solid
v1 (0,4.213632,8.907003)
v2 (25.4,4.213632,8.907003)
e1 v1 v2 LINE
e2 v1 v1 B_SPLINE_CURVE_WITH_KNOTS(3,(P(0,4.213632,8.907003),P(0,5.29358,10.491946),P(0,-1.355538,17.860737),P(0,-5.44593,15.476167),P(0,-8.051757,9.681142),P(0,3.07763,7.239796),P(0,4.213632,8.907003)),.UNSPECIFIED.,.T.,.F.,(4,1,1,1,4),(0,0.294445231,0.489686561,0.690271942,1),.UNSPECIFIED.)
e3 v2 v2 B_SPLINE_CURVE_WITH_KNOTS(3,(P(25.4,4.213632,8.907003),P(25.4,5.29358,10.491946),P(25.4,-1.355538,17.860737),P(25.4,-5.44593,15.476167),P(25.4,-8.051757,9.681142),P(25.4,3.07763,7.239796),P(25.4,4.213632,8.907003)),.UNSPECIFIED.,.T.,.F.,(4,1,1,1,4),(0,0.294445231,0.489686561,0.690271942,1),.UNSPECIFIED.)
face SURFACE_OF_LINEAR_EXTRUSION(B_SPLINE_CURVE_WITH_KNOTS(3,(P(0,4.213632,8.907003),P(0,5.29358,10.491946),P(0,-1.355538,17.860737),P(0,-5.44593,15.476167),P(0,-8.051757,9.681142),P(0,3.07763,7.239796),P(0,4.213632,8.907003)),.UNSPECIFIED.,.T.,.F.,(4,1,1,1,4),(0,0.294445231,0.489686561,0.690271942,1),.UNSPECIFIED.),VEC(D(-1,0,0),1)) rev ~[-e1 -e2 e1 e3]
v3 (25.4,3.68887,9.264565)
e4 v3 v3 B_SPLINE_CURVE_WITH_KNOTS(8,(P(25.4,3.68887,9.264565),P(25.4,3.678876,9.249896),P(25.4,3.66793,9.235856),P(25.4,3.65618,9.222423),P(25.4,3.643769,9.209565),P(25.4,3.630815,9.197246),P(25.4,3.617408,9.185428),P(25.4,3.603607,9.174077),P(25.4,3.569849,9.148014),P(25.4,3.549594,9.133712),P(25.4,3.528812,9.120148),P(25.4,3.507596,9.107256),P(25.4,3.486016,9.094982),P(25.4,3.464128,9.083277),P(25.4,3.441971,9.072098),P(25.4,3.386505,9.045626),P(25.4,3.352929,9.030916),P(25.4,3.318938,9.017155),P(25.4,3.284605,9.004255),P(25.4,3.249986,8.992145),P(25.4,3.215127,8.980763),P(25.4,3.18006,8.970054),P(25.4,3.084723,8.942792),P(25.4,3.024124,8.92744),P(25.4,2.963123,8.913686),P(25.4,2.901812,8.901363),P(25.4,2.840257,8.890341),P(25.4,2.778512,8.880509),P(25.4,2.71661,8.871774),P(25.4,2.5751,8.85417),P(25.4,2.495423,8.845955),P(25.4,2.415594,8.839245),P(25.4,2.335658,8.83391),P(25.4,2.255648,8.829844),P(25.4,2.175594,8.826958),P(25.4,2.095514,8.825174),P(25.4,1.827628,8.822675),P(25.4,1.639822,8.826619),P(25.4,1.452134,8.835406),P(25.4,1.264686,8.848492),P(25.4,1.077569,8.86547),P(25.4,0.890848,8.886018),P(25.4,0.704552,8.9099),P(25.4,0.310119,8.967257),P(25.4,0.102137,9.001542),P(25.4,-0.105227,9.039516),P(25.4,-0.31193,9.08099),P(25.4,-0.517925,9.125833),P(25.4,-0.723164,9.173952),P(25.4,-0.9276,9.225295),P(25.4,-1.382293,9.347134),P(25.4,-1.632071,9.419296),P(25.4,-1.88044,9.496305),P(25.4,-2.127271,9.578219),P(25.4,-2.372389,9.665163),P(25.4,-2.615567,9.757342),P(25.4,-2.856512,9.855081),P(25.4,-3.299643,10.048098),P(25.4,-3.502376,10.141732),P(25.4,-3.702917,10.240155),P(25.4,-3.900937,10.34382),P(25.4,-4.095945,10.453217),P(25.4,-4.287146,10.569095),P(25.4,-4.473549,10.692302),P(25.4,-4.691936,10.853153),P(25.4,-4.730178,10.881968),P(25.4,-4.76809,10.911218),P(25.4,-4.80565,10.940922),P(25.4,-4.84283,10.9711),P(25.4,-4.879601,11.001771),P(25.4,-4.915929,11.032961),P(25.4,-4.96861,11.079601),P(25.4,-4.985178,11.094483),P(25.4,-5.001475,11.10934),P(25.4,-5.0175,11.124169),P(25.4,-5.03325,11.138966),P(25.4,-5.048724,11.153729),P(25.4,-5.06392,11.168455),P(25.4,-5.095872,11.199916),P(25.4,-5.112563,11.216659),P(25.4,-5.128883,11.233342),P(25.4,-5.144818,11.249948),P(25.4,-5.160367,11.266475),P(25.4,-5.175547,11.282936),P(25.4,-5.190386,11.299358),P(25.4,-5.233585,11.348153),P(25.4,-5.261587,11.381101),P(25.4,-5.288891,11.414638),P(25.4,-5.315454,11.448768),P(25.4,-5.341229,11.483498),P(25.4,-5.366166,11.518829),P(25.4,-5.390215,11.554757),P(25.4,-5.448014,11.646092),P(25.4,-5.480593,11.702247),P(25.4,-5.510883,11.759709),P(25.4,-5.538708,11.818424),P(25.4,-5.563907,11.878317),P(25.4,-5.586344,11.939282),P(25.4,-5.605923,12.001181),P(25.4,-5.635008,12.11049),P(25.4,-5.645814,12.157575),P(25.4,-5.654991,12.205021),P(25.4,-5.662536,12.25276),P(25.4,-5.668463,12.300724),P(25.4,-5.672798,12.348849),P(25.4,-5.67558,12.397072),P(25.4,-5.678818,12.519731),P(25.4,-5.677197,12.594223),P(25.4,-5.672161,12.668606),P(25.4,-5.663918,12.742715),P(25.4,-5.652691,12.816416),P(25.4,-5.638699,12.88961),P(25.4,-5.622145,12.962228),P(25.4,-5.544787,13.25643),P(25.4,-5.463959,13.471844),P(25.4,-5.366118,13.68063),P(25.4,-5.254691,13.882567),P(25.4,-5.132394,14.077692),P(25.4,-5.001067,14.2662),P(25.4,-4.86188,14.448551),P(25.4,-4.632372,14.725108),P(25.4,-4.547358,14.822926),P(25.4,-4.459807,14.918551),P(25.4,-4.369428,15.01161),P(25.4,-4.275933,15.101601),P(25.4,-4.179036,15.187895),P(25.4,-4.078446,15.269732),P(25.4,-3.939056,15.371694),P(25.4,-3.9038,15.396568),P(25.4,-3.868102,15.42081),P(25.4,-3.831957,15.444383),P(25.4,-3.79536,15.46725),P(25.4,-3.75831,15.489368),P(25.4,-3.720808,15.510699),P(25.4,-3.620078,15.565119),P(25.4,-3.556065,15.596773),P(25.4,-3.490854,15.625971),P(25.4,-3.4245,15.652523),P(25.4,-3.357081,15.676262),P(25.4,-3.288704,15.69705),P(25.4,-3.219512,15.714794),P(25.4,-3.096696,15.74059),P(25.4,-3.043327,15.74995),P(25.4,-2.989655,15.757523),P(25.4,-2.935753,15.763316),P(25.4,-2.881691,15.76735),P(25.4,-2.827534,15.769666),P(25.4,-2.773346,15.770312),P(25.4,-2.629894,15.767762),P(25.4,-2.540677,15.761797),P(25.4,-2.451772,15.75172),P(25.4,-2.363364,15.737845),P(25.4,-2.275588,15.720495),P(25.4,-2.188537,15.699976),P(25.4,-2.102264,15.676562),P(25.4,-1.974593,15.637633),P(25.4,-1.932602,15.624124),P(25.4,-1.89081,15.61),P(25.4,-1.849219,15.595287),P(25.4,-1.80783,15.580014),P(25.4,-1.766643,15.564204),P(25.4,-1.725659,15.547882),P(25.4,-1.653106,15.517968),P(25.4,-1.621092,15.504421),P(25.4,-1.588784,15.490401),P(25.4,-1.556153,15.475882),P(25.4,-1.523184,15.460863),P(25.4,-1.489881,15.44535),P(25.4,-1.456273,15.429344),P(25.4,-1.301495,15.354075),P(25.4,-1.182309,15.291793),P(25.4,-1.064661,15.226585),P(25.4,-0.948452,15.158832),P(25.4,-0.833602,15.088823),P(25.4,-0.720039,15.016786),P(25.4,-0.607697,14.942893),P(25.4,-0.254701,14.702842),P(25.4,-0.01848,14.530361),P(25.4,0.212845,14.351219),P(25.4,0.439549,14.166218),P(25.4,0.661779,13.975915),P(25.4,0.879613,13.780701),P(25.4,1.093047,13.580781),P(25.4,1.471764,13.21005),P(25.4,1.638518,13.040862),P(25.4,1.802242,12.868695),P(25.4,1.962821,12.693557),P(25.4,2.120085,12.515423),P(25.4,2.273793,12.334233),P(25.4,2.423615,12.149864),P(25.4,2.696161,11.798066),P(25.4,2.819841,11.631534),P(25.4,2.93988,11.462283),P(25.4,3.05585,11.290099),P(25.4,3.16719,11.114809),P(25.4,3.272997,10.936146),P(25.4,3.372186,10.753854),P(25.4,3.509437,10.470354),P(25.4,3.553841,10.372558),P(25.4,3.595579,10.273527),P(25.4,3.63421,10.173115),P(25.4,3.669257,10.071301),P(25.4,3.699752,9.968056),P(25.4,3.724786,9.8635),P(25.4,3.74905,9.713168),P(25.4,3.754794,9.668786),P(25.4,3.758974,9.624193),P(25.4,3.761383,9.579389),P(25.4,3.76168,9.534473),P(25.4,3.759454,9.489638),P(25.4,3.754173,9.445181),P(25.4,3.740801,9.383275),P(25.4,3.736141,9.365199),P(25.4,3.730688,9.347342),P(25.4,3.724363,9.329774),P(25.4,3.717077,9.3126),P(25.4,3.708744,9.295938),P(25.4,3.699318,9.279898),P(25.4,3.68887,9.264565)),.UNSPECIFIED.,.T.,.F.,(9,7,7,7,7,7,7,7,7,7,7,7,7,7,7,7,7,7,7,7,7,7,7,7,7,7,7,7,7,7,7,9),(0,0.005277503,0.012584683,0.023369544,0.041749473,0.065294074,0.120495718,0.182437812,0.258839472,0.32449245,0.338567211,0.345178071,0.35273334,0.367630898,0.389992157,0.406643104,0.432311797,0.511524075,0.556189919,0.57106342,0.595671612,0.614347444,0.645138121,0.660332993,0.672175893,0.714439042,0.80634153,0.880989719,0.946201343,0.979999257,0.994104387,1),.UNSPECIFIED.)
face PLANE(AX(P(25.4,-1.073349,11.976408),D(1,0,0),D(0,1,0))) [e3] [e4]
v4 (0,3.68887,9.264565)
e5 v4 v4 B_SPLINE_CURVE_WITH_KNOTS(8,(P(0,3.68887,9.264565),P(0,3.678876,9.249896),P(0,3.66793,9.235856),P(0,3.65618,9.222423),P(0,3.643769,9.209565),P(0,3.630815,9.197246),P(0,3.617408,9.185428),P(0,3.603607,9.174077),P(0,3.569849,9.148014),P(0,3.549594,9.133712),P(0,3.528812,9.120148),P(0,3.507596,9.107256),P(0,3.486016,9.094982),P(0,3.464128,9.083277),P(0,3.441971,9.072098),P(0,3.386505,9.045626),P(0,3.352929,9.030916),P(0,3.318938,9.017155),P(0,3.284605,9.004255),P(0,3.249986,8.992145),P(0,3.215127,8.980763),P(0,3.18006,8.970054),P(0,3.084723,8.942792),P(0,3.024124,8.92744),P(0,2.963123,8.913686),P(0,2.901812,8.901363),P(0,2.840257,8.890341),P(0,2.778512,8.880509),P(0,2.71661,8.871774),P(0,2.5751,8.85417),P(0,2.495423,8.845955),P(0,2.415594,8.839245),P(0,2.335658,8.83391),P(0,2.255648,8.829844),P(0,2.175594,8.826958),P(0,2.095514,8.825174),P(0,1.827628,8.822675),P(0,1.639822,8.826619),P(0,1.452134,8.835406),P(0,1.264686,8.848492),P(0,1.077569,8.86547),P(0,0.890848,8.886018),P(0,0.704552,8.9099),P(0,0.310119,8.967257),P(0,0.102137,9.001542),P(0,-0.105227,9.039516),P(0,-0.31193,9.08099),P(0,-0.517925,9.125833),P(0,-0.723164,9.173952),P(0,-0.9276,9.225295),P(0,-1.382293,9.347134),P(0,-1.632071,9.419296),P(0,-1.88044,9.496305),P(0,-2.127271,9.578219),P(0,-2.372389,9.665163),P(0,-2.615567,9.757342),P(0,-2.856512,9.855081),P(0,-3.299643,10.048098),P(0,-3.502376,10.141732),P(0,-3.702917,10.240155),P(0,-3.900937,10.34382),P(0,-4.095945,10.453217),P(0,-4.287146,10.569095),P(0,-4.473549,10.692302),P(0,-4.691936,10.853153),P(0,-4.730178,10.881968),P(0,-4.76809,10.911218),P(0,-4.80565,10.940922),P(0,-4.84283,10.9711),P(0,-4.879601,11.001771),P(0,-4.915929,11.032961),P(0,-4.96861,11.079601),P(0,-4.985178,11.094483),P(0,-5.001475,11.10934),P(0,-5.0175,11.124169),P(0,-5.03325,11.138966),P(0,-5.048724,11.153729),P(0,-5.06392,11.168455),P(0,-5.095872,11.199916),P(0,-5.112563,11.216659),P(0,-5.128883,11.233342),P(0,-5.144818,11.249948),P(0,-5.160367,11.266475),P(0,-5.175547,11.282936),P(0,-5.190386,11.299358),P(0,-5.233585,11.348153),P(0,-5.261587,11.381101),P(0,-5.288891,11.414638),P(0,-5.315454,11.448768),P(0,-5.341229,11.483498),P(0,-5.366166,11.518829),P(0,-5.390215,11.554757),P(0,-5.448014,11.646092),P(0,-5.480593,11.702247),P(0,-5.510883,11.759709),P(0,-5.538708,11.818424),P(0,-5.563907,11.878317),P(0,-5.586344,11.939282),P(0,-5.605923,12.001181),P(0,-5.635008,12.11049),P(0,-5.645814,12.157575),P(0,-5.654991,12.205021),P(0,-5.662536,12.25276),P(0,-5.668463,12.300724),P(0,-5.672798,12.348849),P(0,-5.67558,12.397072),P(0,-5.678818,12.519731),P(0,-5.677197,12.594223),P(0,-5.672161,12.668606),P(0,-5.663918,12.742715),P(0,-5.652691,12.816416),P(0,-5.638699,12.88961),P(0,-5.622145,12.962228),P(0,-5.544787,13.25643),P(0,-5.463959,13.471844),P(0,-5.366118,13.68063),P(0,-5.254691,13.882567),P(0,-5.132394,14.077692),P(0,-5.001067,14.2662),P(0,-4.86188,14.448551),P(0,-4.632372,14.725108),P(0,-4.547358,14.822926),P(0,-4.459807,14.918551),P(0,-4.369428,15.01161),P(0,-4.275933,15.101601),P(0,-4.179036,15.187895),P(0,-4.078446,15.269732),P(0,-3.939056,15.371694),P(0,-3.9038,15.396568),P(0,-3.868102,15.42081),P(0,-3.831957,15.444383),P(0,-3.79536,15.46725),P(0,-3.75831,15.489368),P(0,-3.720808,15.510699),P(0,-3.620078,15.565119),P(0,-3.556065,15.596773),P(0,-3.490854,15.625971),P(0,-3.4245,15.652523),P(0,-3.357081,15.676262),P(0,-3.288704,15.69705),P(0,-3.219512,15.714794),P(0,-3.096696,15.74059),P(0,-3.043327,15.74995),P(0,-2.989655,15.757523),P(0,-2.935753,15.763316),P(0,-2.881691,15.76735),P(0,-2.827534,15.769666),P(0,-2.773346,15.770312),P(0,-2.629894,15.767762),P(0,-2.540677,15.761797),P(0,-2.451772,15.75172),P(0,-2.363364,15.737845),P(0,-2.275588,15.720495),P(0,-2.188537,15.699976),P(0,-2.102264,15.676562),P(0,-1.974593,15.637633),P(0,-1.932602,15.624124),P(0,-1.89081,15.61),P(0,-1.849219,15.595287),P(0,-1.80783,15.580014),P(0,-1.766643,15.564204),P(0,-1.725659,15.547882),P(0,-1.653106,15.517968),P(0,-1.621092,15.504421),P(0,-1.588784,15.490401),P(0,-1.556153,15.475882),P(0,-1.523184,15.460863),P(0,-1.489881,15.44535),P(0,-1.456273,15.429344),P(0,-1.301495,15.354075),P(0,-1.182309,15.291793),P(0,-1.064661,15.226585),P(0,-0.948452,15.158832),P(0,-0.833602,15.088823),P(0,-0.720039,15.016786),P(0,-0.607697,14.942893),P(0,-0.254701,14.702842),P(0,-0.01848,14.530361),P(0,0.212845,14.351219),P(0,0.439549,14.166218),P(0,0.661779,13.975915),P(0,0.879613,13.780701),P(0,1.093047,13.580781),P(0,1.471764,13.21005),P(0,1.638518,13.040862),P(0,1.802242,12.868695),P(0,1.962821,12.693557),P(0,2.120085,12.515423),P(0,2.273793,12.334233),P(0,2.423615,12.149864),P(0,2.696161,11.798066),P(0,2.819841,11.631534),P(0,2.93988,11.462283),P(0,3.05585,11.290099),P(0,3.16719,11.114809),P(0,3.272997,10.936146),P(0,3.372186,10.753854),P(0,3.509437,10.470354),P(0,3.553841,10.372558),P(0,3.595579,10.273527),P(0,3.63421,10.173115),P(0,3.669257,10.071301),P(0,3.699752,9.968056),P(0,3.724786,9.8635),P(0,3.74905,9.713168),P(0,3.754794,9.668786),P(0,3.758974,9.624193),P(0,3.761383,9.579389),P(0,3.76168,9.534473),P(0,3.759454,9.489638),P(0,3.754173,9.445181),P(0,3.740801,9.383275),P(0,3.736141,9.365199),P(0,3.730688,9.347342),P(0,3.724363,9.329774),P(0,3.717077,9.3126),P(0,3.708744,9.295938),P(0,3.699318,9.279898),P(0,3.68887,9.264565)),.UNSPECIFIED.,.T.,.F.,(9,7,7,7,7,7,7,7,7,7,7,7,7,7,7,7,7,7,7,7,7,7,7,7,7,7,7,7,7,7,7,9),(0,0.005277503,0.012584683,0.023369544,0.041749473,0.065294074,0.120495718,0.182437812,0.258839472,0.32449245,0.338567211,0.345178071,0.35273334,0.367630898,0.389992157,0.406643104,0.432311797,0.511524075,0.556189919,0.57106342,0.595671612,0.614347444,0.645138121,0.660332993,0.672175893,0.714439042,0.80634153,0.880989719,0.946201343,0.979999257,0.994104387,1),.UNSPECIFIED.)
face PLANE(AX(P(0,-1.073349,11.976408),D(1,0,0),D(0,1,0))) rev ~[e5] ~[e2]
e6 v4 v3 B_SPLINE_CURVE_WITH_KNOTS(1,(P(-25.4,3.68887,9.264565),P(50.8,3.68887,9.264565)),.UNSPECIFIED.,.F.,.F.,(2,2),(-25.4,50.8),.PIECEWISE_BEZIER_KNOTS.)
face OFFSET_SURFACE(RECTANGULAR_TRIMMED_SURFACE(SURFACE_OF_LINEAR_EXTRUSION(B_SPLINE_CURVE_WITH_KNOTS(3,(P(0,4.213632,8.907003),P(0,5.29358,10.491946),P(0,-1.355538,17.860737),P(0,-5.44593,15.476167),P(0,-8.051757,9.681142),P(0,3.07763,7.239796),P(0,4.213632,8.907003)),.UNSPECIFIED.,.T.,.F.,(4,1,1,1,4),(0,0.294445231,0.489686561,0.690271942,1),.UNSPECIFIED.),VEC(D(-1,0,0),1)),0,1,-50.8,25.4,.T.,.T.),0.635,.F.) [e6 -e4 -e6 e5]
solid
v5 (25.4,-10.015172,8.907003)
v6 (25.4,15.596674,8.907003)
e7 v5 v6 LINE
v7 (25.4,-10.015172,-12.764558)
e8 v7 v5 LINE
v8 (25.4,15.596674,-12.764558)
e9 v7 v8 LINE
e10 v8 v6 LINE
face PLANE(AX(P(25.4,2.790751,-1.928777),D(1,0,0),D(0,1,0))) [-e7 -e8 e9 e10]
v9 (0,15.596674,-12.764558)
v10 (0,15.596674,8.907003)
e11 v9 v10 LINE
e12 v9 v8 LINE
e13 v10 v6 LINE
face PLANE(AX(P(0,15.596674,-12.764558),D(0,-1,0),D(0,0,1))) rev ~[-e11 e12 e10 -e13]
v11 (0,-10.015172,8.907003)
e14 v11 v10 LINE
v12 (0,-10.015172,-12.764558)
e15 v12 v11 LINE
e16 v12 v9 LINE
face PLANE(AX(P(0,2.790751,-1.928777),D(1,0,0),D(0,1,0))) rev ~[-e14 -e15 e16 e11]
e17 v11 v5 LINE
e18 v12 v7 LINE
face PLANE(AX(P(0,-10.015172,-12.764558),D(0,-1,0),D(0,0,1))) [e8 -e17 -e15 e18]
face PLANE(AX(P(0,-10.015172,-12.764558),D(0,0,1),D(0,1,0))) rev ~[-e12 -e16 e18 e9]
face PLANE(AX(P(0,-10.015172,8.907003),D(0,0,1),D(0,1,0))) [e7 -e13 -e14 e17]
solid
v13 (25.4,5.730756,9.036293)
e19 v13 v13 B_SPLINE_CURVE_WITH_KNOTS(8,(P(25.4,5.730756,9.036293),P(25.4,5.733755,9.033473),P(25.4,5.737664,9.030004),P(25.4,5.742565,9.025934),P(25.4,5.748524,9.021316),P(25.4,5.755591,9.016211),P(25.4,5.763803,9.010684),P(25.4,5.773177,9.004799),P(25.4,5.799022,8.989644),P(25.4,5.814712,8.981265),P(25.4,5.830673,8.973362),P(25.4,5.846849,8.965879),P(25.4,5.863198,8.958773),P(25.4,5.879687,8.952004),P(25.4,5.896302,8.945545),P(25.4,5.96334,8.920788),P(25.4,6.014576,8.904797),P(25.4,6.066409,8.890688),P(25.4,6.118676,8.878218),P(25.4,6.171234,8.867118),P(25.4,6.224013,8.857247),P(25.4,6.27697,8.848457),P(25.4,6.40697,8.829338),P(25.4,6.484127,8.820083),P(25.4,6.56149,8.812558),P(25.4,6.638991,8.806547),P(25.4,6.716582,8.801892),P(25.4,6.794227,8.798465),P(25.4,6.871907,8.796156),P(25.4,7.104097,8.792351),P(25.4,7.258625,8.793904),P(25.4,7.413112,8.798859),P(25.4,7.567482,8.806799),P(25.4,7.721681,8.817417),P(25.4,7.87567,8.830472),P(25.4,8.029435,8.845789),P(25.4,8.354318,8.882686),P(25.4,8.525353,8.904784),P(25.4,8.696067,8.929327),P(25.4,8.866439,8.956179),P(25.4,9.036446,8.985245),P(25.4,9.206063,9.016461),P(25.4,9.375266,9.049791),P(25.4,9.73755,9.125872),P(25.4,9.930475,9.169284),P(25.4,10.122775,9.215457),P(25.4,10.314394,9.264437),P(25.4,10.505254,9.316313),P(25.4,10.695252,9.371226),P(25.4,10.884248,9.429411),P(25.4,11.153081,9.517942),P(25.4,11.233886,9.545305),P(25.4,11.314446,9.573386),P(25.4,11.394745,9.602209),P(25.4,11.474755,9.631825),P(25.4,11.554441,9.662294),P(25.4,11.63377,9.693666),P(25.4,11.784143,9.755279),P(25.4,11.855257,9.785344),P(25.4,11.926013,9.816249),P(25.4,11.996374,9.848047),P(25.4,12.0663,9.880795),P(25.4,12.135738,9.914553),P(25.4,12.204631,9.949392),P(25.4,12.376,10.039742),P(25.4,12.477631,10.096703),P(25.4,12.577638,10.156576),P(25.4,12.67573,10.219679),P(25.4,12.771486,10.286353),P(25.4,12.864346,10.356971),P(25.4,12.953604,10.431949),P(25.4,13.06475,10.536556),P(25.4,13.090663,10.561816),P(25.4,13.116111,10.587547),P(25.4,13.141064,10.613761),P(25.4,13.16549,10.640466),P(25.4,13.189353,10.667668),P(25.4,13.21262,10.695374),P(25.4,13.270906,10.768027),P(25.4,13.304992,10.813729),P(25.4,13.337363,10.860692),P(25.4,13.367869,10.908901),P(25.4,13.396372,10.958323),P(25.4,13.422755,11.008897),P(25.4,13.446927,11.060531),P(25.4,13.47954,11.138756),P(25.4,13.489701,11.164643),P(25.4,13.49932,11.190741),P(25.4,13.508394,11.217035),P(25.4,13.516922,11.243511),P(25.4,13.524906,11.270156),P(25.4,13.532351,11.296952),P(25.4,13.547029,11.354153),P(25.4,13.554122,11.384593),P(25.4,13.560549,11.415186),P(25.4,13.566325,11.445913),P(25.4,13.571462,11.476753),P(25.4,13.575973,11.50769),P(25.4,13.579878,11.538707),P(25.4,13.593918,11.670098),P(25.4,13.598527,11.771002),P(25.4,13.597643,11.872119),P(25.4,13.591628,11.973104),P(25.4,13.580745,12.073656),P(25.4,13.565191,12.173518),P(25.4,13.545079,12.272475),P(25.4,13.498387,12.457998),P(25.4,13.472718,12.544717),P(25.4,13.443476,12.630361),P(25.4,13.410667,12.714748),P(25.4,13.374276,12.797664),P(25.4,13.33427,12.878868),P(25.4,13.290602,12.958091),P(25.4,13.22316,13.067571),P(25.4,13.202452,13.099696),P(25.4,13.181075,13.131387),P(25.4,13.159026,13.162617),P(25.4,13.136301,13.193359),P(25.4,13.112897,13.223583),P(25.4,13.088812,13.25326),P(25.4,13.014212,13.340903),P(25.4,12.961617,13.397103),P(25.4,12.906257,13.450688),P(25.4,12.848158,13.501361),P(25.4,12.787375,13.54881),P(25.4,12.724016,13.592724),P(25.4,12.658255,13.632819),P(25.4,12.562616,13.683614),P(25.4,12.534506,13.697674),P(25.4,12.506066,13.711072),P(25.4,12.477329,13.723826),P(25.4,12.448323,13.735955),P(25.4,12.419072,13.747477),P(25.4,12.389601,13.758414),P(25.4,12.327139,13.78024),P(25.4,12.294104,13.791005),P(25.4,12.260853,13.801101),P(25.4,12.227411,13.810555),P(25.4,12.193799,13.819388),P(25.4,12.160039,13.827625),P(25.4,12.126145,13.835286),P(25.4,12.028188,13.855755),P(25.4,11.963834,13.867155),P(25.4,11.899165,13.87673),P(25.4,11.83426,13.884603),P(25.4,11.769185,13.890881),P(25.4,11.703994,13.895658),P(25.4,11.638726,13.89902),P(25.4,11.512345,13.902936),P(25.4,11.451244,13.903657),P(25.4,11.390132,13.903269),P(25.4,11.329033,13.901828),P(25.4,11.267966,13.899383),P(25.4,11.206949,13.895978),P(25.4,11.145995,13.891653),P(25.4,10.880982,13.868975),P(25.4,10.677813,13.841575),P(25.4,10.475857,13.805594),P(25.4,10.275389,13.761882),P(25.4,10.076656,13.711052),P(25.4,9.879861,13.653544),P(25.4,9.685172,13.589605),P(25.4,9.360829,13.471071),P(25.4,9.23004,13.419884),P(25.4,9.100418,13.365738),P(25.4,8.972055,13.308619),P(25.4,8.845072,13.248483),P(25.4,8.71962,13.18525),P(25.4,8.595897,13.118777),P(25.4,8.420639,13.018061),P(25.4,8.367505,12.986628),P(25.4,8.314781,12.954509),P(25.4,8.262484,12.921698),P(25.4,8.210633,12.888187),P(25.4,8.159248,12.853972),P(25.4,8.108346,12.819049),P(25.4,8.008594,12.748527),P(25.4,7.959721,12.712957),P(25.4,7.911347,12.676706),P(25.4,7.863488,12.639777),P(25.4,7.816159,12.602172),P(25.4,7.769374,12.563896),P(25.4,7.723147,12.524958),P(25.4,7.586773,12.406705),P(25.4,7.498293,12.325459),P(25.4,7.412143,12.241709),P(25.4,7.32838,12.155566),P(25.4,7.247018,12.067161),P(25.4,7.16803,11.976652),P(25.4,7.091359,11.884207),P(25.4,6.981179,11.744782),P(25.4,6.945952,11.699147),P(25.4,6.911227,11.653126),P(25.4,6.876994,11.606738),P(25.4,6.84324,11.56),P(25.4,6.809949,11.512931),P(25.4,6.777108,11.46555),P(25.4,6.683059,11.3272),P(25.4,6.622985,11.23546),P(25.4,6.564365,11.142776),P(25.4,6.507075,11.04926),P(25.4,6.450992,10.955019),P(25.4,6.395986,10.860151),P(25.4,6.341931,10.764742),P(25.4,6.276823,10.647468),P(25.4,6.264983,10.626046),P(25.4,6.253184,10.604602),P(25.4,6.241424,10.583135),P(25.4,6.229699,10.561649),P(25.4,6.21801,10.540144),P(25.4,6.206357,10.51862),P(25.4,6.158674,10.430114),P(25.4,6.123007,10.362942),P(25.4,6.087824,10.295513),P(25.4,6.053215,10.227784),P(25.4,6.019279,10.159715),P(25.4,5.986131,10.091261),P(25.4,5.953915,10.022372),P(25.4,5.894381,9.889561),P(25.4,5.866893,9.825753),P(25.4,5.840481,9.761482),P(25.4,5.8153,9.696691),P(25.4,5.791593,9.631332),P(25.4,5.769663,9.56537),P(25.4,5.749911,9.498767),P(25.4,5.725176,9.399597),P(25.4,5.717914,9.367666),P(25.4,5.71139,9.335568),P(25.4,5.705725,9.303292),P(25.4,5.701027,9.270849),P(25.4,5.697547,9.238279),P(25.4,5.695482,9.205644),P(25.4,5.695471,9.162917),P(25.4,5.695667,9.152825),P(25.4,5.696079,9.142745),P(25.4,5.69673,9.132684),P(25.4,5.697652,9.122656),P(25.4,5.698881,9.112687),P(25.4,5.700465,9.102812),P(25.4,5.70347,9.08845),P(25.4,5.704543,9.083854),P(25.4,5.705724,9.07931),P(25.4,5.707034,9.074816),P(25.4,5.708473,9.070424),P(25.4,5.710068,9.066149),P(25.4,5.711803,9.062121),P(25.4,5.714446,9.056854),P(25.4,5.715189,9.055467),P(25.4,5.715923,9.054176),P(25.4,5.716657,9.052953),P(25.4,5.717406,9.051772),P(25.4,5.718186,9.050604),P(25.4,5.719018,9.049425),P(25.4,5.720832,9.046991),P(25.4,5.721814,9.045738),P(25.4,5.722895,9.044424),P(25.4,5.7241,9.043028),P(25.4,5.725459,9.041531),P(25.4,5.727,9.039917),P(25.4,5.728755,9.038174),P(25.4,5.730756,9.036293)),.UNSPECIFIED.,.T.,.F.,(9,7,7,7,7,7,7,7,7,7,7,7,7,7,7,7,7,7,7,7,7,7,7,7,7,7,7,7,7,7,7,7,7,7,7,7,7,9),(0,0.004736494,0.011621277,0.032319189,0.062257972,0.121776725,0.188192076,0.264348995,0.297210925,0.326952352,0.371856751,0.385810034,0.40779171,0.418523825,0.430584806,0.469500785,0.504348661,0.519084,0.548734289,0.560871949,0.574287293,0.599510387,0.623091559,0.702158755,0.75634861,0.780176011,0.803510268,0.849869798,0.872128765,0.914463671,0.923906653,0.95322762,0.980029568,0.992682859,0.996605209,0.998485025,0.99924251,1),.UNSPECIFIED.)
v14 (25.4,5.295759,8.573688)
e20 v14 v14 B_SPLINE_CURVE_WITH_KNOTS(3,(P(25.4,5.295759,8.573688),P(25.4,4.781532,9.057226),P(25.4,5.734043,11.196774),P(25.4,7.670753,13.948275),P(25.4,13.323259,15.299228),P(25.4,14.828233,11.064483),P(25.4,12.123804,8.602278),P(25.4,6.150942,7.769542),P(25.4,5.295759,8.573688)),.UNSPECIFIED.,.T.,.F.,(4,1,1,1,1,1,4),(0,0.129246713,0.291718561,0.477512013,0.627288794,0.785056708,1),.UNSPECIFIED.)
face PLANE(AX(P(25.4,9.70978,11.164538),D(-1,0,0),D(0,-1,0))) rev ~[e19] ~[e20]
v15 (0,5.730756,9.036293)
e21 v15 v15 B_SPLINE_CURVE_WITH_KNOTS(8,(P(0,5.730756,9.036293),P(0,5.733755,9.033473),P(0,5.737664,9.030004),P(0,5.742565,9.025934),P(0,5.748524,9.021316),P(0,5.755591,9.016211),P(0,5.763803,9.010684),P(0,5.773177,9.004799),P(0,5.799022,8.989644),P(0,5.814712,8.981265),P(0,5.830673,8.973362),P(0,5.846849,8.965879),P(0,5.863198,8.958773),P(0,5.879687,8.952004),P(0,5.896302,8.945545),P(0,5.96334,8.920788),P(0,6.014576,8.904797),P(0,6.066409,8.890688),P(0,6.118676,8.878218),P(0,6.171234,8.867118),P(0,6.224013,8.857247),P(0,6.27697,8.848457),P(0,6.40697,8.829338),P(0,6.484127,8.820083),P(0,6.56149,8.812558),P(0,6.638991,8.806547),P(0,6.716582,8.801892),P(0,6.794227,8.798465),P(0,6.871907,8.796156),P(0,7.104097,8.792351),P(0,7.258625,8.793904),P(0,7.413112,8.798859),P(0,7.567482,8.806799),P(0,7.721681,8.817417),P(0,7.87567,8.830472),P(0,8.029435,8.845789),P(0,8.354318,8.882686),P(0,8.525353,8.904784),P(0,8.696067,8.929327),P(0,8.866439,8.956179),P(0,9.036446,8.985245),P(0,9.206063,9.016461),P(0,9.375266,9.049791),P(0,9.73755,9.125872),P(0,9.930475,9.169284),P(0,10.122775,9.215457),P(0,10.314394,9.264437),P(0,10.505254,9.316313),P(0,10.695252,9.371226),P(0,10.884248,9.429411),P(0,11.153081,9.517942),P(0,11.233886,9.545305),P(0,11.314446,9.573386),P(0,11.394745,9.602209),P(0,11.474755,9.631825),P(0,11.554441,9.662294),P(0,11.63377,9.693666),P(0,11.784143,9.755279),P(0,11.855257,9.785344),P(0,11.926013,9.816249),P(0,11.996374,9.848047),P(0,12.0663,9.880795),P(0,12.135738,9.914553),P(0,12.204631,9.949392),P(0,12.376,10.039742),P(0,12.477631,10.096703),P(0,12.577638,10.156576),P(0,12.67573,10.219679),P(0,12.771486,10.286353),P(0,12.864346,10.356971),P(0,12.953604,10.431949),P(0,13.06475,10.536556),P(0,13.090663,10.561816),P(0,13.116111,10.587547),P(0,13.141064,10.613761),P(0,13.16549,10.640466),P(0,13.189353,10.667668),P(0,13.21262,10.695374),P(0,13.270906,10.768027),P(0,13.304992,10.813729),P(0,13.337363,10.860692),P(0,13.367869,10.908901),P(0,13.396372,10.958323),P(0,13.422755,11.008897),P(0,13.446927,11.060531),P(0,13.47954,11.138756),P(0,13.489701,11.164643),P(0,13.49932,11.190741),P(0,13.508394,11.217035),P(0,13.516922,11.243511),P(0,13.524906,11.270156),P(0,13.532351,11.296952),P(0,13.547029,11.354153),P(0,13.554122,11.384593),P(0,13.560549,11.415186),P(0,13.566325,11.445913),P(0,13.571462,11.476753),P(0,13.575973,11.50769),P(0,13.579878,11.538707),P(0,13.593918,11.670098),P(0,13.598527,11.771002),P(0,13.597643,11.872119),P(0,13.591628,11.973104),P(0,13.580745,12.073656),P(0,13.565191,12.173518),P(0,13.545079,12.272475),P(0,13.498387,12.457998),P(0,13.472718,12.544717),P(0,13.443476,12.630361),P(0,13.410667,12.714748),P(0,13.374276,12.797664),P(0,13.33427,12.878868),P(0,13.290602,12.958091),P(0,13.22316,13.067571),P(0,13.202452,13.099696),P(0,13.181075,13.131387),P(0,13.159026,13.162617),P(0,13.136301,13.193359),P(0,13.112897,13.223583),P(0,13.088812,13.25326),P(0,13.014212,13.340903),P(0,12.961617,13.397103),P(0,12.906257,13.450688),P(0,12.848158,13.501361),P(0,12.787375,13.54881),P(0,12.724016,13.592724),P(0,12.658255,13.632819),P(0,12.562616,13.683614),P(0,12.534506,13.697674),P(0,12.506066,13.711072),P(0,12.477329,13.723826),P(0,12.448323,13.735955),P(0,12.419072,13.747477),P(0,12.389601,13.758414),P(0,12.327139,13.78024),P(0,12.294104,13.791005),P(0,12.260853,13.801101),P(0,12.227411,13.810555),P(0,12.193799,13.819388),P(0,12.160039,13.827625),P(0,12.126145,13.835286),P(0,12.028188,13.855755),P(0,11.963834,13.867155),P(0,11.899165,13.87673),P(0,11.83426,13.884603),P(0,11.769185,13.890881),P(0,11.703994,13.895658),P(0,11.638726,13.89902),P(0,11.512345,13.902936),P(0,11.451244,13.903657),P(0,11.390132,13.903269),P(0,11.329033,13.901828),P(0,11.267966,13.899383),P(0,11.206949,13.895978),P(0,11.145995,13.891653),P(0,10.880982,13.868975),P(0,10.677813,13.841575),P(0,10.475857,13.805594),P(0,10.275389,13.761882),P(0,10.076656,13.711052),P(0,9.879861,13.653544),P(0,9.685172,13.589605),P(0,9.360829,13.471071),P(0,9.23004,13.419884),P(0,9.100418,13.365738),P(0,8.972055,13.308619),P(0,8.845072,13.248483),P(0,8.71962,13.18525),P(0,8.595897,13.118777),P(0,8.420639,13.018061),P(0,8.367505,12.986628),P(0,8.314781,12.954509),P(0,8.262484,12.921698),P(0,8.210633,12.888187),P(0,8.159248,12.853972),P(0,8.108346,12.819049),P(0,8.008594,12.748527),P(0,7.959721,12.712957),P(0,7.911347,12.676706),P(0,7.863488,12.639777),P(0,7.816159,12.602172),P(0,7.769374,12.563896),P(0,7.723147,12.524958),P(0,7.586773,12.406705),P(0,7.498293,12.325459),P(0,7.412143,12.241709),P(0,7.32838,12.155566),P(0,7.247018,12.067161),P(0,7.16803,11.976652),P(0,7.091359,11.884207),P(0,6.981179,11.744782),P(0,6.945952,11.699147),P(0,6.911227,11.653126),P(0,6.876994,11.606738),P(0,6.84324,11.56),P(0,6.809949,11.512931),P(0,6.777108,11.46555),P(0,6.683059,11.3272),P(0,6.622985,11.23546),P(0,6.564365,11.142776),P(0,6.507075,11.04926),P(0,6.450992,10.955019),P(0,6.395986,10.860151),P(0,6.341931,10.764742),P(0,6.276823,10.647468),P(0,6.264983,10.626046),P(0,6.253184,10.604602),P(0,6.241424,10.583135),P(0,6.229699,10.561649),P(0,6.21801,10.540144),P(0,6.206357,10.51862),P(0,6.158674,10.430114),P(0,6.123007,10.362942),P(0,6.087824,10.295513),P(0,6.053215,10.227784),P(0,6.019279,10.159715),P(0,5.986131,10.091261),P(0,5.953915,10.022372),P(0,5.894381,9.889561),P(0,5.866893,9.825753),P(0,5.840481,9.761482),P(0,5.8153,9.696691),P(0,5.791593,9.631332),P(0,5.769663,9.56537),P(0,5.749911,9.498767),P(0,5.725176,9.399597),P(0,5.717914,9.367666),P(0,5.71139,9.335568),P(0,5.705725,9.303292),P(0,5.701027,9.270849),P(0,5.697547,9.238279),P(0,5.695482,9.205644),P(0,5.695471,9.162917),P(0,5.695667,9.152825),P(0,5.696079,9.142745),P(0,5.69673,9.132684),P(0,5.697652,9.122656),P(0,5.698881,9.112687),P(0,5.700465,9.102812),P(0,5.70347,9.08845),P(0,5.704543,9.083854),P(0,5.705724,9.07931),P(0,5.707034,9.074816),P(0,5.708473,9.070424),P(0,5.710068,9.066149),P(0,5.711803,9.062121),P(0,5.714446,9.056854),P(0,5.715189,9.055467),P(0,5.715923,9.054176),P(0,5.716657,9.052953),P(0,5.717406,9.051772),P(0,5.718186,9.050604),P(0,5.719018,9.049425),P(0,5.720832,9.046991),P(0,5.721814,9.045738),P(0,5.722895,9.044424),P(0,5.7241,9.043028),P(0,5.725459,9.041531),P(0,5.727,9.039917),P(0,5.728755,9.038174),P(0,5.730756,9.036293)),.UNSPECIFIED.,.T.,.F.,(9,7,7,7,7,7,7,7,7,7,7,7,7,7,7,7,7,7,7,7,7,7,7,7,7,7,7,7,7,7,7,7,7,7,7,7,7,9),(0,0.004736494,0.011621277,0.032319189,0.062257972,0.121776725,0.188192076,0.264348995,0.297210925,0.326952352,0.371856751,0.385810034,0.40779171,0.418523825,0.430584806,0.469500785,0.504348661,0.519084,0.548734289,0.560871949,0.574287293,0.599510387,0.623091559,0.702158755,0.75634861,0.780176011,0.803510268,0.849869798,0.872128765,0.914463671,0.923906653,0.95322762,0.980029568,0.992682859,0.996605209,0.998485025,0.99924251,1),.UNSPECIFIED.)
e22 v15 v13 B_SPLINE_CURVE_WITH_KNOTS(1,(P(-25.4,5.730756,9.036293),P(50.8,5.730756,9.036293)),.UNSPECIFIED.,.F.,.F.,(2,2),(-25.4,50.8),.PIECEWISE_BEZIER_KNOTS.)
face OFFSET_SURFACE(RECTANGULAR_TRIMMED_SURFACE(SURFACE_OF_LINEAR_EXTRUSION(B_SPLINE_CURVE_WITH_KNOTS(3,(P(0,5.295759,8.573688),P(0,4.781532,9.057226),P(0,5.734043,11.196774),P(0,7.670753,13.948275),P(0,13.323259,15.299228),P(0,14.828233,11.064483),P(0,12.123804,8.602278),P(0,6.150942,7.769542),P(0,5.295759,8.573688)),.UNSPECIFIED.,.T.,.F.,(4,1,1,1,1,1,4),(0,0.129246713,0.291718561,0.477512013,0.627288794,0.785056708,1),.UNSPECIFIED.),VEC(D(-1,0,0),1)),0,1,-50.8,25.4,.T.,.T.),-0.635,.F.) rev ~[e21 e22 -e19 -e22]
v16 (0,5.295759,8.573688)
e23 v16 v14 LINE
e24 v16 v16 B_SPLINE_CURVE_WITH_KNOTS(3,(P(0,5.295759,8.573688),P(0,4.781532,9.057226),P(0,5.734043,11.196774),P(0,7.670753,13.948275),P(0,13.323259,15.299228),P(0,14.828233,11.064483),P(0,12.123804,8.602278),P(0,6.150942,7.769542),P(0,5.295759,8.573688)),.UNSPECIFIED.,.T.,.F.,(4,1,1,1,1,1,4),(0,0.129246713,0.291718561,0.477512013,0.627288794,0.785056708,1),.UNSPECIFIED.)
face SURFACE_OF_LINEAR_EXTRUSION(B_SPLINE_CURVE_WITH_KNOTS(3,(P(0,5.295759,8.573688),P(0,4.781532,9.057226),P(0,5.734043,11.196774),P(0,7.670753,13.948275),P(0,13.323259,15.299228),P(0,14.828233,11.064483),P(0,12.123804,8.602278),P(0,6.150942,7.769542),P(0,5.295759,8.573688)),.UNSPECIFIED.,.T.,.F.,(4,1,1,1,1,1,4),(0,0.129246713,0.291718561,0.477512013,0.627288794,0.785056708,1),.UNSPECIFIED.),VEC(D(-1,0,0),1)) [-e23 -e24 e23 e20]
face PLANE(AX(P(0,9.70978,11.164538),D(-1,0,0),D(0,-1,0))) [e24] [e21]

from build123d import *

# Parameters (mm, degrees)
F0_W     = 25.6118457764
F0_H     = 21.6715615243
F2_DEPTH = 25.4
F3_DEPTH = 25.4
F5_DEPTH = 25.4
F7_T     = -0.635
F8_T     = -0.635


with BuildPart() as f2:
    # F0 (on Right) → F2 (new body)
    with BuildSketch(Plane.YZ):
        with Locations((2.7907509357, -1.9287774339)):
            Rectangle(F0_W, F0_H)
    extrude(amount=F2_DEPTH)


with BuildPart() as f3:
    # F1 (on Right) → F3 (new body)
    with BuildSketch(Plane.YZ):
        with BuildLine():
            add(Edge.make_bspline(
                [(4.2136316188, 8.9070033282), (5.2935795792, 10.4919461084), (-1.3555377635, 17.8607368612), (-5.4459300601, 15.4761674557), (-8.0517569971, 9.6811419469), (3.0776302522, 7.2397959902), (4.2136316188, 8.9070033282)],
                knots=[0, 0, 0, 0, 0.2944452308, 0.4896865614, 0.6902719419, 1, 1, 1, 1], degree=3))
        make_face()
    extrude(amount=F3_DEPTH)

    # F8
    f8_openings = [f3.faces().sort_by_distance(p)[0] for p in [
        (25.4, -1.151764, 12.011421),
        (0, -1.151764, 12.011421),
    ]]
    offset(amount=F8_T, openings=f8_openings, kind=Kind.INTERSECTION)


with BuildPart() as f5:
    # F4 (on face) → F5 (new body)
    with BuildSketch(Plane.YZ):
        with BuildLine():
            add(Edge.make_bspline(
                [(5.2957590669, 9.8436884582), (4.7815324939, 10.327226453), (5.7340432111, 12.4667739571), (7.6707529357, 15.2182754562), (13.3232593959, 16.5692283812), (14.828232512, 12.3344833298), (12.1238035013, 9.8722782318), (6.1509417623, 9.039542295), (5.2957590669, 9.8436884582)],
                knots=[0, 0, 0, 0, 0.1292467129, 0.2917185614, 0.4775120133, 0.6272887936, 0.7850567083, 1, 1, 1, 1], degree=3))
        make_face()
    extrude(amount=F5_DEPTH)


with BuildPart() as f5_1:
    # F6: moved
    add(f5.part.moved(Location((0, 0, -1.27))))

    # F7
    f7_openings = [f5_1.faces().sort_by_distance(p)[0] for p in [
        (0, 9.801206, 11.224016),
        (25.4, 9.801206, 11.224016),
    ]]
    offset(amount=F7_T, openings=f7_openings, kind=Kind.INTERSECTION)


solid = Compound([f2.part, f3.part, f5_1.part])
